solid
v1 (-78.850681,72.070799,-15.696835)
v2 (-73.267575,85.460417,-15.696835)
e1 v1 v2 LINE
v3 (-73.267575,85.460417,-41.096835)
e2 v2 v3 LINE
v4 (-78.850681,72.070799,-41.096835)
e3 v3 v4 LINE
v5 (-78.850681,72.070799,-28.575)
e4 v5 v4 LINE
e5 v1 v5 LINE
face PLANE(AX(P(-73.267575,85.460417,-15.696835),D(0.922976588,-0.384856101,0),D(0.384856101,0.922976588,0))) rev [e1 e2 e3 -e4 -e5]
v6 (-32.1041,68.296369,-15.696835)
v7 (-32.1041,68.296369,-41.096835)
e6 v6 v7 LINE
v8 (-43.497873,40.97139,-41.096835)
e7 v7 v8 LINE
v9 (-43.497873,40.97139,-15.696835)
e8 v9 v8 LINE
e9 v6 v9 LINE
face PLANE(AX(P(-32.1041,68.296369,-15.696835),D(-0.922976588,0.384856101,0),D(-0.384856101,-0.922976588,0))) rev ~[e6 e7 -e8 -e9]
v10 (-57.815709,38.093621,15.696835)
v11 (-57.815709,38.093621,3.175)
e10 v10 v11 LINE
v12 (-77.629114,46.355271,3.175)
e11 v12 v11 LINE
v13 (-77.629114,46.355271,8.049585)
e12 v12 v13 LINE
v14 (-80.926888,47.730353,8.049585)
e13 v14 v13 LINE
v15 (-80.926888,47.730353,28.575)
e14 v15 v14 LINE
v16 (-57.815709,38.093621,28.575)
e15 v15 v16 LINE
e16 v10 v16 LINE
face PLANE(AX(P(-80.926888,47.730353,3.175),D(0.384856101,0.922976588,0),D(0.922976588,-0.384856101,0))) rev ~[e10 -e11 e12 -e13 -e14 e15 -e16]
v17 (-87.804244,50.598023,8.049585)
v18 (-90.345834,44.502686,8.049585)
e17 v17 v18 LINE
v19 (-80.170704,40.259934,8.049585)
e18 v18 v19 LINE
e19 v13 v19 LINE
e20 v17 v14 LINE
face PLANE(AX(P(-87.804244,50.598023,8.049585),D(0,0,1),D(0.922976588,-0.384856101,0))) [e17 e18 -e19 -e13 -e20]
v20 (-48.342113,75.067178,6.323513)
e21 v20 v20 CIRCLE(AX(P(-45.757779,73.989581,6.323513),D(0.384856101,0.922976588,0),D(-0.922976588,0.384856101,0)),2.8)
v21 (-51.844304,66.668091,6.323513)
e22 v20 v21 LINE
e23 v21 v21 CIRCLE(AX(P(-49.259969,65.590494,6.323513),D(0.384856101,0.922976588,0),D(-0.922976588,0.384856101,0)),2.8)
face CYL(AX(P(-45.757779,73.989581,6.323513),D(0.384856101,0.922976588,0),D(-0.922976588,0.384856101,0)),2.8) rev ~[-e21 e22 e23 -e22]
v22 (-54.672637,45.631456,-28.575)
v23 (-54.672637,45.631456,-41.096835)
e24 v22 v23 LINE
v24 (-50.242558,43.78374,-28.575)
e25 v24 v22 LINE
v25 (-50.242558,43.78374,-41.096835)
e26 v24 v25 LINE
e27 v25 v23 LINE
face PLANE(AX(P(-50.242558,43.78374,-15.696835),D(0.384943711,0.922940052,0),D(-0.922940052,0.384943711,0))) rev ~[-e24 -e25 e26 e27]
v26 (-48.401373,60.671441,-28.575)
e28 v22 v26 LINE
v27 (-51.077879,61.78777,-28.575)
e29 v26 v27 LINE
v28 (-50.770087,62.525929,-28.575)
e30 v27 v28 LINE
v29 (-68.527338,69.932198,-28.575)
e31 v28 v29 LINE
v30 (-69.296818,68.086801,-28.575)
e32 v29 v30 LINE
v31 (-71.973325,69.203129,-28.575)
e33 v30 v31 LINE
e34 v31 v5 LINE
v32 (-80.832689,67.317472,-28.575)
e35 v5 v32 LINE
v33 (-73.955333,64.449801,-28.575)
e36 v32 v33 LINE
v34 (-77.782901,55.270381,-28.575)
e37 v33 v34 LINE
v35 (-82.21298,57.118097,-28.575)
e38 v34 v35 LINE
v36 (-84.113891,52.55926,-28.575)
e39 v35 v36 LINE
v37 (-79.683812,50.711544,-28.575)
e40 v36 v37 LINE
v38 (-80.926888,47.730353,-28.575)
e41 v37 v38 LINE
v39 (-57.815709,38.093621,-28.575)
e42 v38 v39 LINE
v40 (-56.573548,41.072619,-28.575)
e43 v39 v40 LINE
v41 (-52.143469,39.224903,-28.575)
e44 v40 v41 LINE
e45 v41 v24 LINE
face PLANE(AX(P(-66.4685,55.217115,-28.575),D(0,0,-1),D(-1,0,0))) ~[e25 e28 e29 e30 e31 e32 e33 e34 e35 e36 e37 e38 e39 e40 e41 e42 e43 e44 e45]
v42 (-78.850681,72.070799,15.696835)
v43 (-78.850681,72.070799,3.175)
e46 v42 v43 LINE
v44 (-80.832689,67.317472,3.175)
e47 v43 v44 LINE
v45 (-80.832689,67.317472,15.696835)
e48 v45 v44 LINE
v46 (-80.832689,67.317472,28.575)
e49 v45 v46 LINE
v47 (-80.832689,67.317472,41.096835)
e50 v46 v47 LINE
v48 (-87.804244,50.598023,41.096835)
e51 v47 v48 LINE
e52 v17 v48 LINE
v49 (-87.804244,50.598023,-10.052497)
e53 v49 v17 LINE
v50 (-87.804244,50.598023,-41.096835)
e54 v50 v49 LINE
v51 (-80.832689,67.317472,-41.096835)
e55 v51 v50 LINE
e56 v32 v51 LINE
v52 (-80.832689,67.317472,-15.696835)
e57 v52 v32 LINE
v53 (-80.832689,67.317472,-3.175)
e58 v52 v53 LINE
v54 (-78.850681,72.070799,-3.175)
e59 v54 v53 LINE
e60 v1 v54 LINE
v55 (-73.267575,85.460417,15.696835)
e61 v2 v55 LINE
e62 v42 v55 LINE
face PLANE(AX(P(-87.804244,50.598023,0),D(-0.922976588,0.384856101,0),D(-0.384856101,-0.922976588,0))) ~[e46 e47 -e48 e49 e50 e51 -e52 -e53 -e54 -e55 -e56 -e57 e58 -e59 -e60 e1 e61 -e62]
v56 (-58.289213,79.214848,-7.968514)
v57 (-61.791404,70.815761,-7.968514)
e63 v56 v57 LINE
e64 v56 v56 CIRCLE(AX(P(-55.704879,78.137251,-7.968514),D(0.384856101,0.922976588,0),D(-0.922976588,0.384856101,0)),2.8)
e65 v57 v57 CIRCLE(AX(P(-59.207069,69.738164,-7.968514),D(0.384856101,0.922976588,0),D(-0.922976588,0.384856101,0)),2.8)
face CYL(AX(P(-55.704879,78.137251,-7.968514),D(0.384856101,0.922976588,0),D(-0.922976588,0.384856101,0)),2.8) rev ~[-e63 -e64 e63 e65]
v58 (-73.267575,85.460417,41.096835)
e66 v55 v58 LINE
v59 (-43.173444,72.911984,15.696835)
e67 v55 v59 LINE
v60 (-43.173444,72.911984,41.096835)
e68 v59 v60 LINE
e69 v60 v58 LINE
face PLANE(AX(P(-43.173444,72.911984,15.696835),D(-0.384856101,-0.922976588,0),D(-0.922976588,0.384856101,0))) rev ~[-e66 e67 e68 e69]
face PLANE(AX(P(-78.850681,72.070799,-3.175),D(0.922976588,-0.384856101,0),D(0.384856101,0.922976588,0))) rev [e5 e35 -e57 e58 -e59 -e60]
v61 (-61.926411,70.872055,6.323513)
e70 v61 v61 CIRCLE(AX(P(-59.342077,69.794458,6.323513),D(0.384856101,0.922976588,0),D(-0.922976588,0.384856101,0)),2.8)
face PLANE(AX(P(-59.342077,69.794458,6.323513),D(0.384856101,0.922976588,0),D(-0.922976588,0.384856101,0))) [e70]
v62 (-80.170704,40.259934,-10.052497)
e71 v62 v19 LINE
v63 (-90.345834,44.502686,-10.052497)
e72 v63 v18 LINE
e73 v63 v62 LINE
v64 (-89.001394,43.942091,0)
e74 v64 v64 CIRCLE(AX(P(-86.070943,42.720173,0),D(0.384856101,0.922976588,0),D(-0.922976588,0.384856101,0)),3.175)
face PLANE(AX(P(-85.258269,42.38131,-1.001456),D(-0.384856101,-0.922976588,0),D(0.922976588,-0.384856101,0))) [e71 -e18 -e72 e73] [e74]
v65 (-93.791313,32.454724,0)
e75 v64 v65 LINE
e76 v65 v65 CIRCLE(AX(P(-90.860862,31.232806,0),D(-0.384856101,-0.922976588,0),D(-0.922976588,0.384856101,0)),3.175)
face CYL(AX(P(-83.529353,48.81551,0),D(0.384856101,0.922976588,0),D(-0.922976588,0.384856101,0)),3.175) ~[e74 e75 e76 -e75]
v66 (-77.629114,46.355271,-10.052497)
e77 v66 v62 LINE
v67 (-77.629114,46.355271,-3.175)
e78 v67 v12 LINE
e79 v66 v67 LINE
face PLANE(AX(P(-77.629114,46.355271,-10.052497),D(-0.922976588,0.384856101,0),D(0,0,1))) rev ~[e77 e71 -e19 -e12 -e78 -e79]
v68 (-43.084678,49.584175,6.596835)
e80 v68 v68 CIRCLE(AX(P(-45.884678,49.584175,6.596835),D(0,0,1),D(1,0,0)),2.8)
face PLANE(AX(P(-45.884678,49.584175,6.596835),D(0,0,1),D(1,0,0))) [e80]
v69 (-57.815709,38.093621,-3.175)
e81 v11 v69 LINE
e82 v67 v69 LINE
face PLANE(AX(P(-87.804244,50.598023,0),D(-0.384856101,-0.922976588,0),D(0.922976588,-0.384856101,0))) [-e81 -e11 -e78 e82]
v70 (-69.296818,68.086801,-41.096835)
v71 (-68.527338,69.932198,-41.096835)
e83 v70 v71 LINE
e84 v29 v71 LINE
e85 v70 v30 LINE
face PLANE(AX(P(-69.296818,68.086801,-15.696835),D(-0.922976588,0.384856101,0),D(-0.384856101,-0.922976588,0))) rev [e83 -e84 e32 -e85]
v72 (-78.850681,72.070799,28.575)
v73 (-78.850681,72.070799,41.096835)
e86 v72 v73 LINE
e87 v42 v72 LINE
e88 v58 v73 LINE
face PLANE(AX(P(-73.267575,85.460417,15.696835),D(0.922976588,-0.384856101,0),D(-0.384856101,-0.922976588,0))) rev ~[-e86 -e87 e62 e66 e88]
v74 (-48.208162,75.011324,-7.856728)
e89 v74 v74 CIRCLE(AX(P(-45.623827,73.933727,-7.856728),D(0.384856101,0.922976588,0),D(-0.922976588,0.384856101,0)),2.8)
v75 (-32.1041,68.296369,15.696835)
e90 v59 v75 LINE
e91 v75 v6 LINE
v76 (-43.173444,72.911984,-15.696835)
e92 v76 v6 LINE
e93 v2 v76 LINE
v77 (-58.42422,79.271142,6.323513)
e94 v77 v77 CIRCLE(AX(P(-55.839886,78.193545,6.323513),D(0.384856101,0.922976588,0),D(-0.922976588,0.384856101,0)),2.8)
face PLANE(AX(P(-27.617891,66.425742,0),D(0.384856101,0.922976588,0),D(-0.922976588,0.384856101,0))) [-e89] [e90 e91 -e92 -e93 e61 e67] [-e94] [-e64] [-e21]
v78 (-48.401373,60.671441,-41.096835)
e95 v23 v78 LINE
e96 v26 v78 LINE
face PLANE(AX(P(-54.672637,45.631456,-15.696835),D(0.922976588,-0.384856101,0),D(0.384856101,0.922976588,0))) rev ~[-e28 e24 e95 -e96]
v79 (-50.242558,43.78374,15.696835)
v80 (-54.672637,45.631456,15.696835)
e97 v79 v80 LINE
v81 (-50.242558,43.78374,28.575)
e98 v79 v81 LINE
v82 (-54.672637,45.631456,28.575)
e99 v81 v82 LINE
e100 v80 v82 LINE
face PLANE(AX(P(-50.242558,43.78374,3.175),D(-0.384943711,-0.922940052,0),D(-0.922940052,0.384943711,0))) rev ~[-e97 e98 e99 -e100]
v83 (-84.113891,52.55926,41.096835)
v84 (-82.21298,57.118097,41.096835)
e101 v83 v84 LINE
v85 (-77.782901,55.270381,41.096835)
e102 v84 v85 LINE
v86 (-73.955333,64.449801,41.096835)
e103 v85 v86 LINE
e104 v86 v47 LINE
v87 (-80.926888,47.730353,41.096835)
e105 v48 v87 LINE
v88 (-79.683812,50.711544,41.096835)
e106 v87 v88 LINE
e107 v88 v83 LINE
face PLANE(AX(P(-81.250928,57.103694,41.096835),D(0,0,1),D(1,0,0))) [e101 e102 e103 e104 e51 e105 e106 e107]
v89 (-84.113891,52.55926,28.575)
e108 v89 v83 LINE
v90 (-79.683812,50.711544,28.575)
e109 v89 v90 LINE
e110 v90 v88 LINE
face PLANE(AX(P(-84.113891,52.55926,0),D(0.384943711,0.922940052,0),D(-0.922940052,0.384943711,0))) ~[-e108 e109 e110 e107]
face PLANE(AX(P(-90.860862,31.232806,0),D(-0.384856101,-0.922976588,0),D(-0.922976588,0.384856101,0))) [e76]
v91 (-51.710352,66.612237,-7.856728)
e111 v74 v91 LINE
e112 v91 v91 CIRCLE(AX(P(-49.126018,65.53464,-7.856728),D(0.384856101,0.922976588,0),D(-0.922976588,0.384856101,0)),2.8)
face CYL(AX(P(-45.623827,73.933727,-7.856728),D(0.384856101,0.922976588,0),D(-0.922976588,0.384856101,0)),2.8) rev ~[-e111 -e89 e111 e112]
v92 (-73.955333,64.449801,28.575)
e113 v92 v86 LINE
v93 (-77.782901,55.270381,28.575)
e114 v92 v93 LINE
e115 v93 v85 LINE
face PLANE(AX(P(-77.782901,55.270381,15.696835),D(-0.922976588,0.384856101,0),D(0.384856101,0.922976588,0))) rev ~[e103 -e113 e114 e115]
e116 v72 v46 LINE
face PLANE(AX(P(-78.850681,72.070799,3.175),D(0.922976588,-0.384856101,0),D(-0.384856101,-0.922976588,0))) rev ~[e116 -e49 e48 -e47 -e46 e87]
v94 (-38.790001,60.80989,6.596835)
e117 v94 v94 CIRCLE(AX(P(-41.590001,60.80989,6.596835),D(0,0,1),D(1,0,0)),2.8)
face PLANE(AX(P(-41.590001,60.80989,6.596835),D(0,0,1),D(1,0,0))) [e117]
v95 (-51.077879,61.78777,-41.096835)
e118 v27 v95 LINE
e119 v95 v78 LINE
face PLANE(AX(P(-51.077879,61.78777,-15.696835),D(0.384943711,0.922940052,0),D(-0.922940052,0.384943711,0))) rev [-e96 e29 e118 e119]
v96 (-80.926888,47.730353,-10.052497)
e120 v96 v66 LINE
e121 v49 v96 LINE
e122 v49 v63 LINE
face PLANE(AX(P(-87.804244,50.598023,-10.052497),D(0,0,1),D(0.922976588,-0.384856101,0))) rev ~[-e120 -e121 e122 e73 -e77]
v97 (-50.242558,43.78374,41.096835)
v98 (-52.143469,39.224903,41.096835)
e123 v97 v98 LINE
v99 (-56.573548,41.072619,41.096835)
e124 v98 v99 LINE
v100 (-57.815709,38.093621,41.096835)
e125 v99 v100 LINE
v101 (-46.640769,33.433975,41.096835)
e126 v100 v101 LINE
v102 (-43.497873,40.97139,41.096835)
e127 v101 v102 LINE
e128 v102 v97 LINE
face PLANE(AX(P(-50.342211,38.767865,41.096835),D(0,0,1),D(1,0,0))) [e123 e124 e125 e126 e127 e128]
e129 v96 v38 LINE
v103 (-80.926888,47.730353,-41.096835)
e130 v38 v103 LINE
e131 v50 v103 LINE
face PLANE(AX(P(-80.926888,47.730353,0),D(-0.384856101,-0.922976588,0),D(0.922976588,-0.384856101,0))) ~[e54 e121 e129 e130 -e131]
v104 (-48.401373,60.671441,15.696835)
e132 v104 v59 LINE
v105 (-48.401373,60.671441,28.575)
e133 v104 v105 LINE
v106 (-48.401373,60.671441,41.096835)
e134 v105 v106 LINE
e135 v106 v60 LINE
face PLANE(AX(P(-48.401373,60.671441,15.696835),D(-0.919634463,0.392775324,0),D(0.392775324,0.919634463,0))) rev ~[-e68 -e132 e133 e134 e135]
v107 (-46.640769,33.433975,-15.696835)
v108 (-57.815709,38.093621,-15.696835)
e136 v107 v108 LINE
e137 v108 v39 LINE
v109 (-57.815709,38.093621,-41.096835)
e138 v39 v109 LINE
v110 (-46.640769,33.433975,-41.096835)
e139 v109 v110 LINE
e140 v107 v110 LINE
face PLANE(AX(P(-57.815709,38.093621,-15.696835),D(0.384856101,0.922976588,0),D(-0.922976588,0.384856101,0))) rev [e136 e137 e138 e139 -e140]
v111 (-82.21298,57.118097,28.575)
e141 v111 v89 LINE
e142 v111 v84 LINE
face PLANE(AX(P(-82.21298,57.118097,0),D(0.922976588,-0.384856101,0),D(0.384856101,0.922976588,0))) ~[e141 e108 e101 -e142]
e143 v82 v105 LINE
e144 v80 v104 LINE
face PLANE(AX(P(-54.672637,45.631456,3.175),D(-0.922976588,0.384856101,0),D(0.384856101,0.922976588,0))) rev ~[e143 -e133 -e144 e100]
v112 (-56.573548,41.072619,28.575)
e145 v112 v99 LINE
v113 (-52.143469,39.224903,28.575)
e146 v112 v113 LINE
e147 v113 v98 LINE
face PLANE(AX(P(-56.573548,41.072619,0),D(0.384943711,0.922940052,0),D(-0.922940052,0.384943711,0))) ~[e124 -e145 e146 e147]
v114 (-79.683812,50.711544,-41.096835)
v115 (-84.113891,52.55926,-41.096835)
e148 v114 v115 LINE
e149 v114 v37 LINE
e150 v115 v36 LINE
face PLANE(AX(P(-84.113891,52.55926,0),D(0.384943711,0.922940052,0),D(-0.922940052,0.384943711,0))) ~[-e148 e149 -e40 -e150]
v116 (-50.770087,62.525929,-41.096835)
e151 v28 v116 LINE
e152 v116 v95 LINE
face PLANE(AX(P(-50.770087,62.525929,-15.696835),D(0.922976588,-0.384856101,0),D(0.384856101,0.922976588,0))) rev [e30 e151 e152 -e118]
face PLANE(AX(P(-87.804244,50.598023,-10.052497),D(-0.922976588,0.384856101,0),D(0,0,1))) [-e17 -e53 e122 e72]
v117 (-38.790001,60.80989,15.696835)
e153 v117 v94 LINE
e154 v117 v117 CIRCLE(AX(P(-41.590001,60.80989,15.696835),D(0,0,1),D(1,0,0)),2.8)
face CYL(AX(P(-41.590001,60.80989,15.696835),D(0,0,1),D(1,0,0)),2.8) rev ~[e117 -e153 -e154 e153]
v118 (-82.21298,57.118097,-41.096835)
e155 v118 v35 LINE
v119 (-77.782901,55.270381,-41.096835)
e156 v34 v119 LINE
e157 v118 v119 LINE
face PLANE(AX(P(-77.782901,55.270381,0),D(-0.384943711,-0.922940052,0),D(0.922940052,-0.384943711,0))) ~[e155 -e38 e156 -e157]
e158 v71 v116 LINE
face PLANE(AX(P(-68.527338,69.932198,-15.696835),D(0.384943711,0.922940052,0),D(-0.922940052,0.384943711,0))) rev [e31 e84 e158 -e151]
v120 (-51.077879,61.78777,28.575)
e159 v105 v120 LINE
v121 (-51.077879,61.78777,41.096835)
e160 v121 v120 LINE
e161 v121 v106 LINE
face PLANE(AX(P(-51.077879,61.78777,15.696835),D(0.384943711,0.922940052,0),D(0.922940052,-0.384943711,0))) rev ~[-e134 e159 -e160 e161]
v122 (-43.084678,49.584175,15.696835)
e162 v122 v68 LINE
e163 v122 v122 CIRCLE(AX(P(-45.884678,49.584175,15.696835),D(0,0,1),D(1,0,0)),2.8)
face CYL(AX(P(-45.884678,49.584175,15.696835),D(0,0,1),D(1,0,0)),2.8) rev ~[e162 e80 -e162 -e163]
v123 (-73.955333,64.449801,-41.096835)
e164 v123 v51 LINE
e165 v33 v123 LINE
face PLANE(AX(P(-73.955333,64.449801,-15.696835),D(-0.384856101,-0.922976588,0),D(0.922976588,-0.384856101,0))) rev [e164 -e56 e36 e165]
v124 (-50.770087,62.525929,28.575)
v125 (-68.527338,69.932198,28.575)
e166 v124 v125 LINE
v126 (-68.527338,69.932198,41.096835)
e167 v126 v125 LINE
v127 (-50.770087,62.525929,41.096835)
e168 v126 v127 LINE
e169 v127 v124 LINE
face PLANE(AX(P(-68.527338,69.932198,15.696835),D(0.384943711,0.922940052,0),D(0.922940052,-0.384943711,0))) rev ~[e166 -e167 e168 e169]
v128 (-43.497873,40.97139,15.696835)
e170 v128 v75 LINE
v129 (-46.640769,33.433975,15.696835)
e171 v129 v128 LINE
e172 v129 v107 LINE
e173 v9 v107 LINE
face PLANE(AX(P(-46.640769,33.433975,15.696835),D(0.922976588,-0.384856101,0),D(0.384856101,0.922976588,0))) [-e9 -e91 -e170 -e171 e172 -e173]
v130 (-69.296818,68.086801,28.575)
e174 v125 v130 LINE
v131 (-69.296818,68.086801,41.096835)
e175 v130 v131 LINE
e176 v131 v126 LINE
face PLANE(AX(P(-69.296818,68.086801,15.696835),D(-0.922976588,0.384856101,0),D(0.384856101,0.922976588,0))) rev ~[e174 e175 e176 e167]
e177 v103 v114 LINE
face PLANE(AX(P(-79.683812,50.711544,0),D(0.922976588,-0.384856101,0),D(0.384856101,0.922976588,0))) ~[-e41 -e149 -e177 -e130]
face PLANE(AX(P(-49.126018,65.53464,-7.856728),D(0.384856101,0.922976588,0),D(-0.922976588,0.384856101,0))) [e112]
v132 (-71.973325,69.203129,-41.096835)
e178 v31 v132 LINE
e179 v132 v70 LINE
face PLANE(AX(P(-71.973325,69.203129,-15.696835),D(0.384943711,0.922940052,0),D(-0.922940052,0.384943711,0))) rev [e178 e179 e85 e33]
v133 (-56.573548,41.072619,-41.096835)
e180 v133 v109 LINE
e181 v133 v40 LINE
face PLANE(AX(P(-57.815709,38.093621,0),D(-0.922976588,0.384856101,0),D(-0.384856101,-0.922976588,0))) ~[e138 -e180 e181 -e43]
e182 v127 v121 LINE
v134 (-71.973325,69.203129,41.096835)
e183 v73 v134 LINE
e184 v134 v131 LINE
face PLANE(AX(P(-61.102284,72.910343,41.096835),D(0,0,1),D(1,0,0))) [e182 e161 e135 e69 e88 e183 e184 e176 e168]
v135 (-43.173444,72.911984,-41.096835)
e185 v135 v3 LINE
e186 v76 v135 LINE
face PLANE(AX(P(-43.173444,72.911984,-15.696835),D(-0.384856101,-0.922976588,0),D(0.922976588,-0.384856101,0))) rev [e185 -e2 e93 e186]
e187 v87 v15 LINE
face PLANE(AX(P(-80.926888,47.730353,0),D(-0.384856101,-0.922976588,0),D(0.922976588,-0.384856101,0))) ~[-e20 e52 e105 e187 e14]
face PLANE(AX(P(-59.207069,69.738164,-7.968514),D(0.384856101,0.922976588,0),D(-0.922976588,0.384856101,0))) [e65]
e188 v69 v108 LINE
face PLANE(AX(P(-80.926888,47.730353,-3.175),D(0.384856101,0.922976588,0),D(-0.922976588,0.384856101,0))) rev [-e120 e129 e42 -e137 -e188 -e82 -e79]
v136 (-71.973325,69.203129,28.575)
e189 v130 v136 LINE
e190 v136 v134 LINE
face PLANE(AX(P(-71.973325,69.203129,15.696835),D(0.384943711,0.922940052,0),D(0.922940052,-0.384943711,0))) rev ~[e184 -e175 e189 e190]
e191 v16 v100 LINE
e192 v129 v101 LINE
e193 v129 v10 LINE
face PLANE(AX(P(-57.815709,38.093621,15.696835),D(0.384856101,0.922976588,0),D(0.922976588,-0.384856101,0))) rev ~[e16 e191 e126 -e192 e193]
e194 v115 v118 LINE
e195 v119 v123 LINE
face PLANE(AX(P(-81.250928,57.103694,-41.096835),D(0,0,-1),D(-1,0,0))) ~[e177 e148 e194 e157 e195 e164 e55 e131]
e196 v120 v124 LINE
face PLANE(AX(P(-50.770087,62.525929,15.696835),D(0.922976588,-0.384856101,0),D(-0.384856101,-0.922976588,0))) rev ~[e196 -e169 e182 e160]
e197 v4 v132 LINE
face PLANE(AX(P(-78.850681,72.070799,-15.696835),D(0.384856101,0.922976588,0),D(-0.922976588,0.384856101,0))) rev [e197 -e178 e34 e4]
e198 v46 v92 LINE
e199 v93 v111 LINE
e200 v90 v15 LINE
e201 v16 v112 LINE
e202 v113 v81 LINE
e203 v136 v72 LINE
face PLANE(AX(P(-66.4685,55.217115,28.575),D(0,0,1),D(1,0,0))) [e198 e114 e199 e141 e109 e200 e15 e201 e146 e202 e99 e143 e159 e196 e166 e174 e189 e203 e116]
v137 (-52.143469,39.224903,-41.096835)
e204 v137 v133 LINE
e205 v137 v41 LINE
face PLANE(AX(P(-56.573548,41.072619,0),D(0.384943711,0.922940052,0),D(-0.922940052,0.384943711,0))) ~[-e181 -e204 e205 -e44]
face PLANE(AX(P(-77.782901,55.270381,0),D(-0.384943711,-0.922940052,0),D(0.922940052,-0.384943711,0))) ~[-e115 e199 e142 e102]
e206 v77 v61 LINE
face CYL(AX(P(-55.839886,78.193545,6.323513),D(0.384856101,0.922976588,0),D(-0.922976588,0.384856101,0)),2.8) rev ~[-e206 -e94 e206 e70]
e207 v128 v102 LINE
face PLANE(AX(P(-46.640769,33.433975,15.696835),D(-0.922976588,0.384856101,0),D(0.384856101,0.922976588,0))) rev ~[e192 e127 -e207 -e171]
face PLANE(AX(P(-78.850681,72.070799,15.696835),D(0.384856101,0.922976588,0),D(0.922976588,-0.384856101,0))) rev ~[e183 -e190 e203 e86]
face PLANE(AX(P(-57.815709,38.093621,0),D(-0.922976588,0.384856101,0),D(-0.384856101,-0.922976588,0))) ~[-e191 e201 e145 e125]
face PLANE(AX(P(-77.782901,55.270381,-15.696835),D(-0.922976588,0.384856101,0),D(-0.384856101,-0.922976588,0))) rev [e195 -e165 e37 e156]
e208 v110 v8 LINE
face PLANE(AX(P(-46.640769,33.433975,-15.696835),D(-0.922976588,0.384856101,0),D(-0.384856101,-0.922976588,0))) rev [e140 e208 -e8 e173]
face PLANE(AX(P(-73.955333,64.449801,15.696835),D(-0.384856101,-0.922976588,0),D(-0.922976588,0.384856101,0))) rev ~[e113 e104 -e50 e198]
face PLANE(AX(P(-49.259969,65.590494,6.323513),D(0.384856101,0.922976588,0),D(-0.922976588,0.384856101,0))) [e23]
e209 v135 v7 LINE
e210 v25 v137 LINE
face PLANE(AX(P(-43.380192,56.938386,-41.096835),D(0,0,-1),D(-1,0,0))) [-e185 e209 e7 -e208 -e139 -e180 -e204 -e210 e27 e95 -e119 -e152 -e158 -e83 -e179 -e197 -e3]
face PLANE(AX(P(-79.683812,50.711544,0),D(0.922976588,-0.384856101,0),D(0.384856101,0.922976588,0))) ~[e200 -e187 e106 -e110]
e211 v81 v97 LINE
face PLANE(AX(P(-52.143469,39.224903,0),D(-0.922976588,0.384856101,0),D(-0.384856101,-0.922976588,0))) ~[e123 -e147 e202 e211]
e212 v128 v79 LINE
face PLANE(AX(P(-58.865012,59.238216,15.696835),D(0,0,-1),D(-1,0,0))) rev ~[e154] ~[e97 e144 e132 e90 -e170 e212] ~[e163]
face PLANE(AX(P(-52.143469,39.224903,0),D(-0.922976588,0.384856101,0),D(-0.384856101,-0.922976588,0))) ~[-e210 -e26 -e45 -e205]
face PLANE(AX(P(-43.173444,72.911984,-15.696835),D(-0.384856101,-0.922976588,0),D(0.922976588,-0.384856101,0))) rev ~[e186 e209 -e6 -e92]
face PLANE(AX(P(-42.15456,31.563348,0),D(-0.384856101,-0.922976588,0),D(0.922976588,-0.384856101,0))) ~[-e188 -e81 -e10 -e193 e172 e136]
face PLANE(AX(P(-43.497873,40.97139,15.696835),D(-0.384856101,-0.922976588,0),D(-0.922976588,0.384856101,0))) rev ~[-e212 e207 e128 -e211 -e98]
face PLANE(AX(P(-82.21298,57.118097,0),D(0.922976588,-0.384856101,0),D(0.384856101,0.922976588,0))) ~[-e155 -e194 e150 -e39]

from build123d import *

# Parameters (mm, degrees)
BOSS_EXTRUDE1_DEPTH  = 15.696834748
SKETCH6_W            = 13.410834748
SKETCH6_H            = 5.149998248
CUT_EXTRUDE1_DEPTH   = 22.86
BOSS_EXTRUDE7_DEPTH  = 3.175
SKETCH12_R           = 2.8
CUT_EXTRUDE3_DEPTH   = 9.1
SKETCH13_R           = 2.8
CUT_EXTRUDE4_DEPTH   = 9.1
CUT_EXTRUDE6_DEPTH   = 98.762
SKETCH15_R           = 3.175
BOSS_EXTRUDE8_DEPTH  = 19.05
BOSS_EXTRUDE9_DEPTH  = 25.4
BOSS_EXTRUDE10_DEPTH = 25.4
BOSS_EXTRUDE11_DEPTH = 25.4
SKETCH21_W           = 11.024255738
SKETCH21_H           = 18.102082359
BOSS_EXTRUDE12_DEPTH = 6.604


with BuildPart() as part:
    # Sketch1 → Boss-Extrude1 (new body)
    with BuildSketch(Plane.XY):
        Polygon((-68.527338122, 69.932197609), (-69.296818428, 68.086800577), (-71.973324576, 69.203128997), (-77.782900884, 55.270381406), (-82.212980026, 57.11809741), (-84.113890894, 52.559260429), (-79.683811753, 50.711544425), (-80.926887502, 47.730352729), (-87.80424407, 50.598023124), (-73.267575276, 85.460416929), (-27.617891017, 66.425741791), (-42.154559811, 31.563347985), (-57.815709039, 38.093620707), (-56.573548036, 41.072618624), (-52.143468895, 39.22490262), (-50.242558026, 43.783739601), (-54.672637167, 45.631455606), (-48.401372675, 60.671441415), (-51.077878823, 61.787769834), (-50.770086701, 62.525928647), align=None)
    boss_extrude1 = extrude(amount=BOSS_EXTRUDE1_DEPTH)

    # Mirror4: Boss-Extrude1 across plane
    add(boss_extrude1.mirror(Plane(origin=(0, 0, 0), x_dir=(1, 0, 0), z_dir=(0, 0, -1))))

    # Sketch6 → Cut-Extrude1 (cut)
    with BuildSketch(Plane(origin=(-85.89491474, 35.815840233, 0), x_dir=(0, 0, -1), z_dir=(0.9229765876476943, -0.38485610123034036, 0))):
        with Locations((-8.991417374, 33.598495643)):
            Rectangle(SKETCH6_W, SKETCH6_H)
    cut_extrude1 = extrude(amount=-CUT_EXTRUDE1_DEPTH, mode=Mode.SUBTRACT)

    # Mirror5: Cut-Extrude1 across plane
    add(cut_extrude1.mirror(Plane.XY), mode=Mode.SUBTRACT)

    # Sketch8 → Boss-Extrude7 (add, symmetric)
    with BuildSketch(Plane.XY):
        Polygon((-73.267575276, 85.460416929), (-87.80424407, 50.598023124), (-42.154559811, 31.563347985), (-27.617891017, 66.425741791), align=None)
    extrude(amount=BOSS_EXTRUDE7_DEPTH, both=True)

    # Sketch12 → Cut-Extrude3 (cut)
    with BuildSketch(Plane(origin=(19.504696032, 46.776906301, 0), x_dir=(0.9229765876476947, -0.38485610123033953, 0), z_dir=(0.38485610123033953, 0.9229765876476949, 0))):
        with Locations(Location((-81.485896456, 7.968513911, 0), (0, 0, 180))):
            Circle(SKETCH12_R)
        with Locations(Location((-70.563570403, 7.856727715, 0), (0, 0, 180))):
            Circle(SKETCH12_R)
        with Locations(Location((-70.708700217, -6.323512761, 0), (0, 0, 180))):
            Circle(SKETCH12_R)
        with Locations(Location((-81.632170363, -6.323512761, 0), (0, 0, 180))):
            Circle(SKETCH12_R)
    extrude(amount=-CUT_EXTRUDE3_DEPTH, mode=Mode.SUBTRACT)

    # Sketch13 → Cut-Extrude4 (cut)
    with BuildSketch(Plane.XY.offset(15.696834748)):
        with Locations((-45.884678207, 49.584175244)):
            Circle(SKETCH13_R)
        with Locations((-41.590000601, 60.809890325)):
            Circle(SKETCH13_R)
    extrude(amount=-CUT_EXTRUDE4_DEPTH, mode=Mode.SUBTRACT)

    # Sketch14 → Cut-Extrude6 (cut)
    with BuildSketch(Plane.XY.offset(15.696834748)):
        Polygon((-46.640769275, 33.433975157), (-32.104100481, 68.296368962), (-25.409987335, 65.505106084), (-39.946656129, 30.642712279), align=None)
    extrude(amount=-CUT_EXTRUDE6_DEPTH, mode=Mode.SUBTRACT)

    # Sketch15 → Boss-Extrude8 (add)
    with BuildSketch(Plane(origin=(4.968027238, 11.914512496, 0), x_dir=(0.9229765876476949, -0.3848561012303393, 0), z_dir=(-0.3848561012303393, -0.9229765876476949, 0))):
        with Locations(Location((-95.882584307, 0, 0), (0, 0, 180))):
            Circle(SKETCH15_R)
    extrude(amount=BOSS_EXTRUDE8_DEPTH)

    # Sketch17 → Boss-Extrude9 (add)
    with BuildSketch(Plane.XY.offset(15.696834748)):
        Polygon((-51.077878823, 61.787769834), (-48.401372675, 60.671441415), (-43.173444366, 72.911983906), (-73.267575276, 85.460416929), (-78.850681144, 72.070799392), (-71.973324576, 69.203128997), (-69.296818428, 68.086800577), (-68.527338122, 69.932197609), (-50.770086701, 62.525928647), align=None)
        Polygon((-84.113890894, 52.559260429), (-82.212980026, 57.11809741), (-77.782900884, 55.270381406), (-73.955332823, 64.449801187), (-80.832689391, 67.317471582), (-87.80424407, 50.598023124), (-80.926887502, 47.730352729), (-79.683811753, 50.711544425), align=None)
        Polygon((-43.497872754, 40.971389524), (-50.242558026, 43.783739601), (-52.143468895, 39.22490262), (-56.573548036, 41.072618624), (-57.815709039, 38.093620707), (-46.640769275, 33.433975157), align=None)
    boss_extrude9 = extrude(amount=BOSS_EXTRUDE9_DEPTH)

    # Sketch18 → Boss-Extrude10 (add)
    with BuildSketch(Plane.XY.offset(3.175)):
        Polygon((-79.683811753, 50.711544425), (-80.926887502, 47.730352729), (-57.815709039, 38.093620707), (-56.573548036, 41.072618624), (-52.143468895, 39.22490262), (-50.242558026, 43.783739601), (-54.672637167, 45.631455606), (-48.401372675, 60.671441415), (-51.077878823, 61.787769834), (-50.770086701, 62.525928647), (-68.527338122, 69.932197609), (-69.296818428, 68.086800577), (-71.973324576, 69.203128997), (-78.850681144, 72.070799392), (-80.832689391, 67.317471582), (-73.955332823, 64.449801187), (-77.782900884, 55.270381406), (-82.212980026, 57.11809741), (-84.113890894, 52.559260429), align=None)
    boss_extrude10 = extrude(amount=BOSS_EXTRUDE10_DEPTH)

    # Mirror6: Boss-Extrude9, Boss-Extrude10 across plane
    add(boss_extrude9.mirror(Plane.XY))
    add(boss_extrude10.mirror(Plane.XY))

    # Sketch19 → Boss-Extrude11 (add)
    with BuildSketch(Plane(origin=(0, 0, -15.696834748), x_dir=(-1, 0, 0), z_dir=(0, 0, -1))):
        Polygon((43.497872754, 40.971389524), (50.242558026, 43.783739601), (54.672637167, 45.631455606), (48.401372675, 60.671441415), (43.173444366, 72.911983906), (32.104100481, 68.296368962), align=None)
    extrude(amount=BOSS_EXTRUDE11_DEPTH)

    # Sketch21 → Boss-Extrude12 (add)
    with BuildSketch(Plane(origin=(4.968027238, 11.914512496, 0), x_dir=(0.9229765876476949, -0.3848561012303393, 0), z_dir=(-0.3848561012303393, -0.9229765876476949, 0))):
        with Locations((-95.002091614, -1.001456214)):
            Rectangle(SKETCH21_W, SKETCH21_H)
    extrude(amount=BOSS_EXTRUDE12_DEPTH)


solid = part.part
